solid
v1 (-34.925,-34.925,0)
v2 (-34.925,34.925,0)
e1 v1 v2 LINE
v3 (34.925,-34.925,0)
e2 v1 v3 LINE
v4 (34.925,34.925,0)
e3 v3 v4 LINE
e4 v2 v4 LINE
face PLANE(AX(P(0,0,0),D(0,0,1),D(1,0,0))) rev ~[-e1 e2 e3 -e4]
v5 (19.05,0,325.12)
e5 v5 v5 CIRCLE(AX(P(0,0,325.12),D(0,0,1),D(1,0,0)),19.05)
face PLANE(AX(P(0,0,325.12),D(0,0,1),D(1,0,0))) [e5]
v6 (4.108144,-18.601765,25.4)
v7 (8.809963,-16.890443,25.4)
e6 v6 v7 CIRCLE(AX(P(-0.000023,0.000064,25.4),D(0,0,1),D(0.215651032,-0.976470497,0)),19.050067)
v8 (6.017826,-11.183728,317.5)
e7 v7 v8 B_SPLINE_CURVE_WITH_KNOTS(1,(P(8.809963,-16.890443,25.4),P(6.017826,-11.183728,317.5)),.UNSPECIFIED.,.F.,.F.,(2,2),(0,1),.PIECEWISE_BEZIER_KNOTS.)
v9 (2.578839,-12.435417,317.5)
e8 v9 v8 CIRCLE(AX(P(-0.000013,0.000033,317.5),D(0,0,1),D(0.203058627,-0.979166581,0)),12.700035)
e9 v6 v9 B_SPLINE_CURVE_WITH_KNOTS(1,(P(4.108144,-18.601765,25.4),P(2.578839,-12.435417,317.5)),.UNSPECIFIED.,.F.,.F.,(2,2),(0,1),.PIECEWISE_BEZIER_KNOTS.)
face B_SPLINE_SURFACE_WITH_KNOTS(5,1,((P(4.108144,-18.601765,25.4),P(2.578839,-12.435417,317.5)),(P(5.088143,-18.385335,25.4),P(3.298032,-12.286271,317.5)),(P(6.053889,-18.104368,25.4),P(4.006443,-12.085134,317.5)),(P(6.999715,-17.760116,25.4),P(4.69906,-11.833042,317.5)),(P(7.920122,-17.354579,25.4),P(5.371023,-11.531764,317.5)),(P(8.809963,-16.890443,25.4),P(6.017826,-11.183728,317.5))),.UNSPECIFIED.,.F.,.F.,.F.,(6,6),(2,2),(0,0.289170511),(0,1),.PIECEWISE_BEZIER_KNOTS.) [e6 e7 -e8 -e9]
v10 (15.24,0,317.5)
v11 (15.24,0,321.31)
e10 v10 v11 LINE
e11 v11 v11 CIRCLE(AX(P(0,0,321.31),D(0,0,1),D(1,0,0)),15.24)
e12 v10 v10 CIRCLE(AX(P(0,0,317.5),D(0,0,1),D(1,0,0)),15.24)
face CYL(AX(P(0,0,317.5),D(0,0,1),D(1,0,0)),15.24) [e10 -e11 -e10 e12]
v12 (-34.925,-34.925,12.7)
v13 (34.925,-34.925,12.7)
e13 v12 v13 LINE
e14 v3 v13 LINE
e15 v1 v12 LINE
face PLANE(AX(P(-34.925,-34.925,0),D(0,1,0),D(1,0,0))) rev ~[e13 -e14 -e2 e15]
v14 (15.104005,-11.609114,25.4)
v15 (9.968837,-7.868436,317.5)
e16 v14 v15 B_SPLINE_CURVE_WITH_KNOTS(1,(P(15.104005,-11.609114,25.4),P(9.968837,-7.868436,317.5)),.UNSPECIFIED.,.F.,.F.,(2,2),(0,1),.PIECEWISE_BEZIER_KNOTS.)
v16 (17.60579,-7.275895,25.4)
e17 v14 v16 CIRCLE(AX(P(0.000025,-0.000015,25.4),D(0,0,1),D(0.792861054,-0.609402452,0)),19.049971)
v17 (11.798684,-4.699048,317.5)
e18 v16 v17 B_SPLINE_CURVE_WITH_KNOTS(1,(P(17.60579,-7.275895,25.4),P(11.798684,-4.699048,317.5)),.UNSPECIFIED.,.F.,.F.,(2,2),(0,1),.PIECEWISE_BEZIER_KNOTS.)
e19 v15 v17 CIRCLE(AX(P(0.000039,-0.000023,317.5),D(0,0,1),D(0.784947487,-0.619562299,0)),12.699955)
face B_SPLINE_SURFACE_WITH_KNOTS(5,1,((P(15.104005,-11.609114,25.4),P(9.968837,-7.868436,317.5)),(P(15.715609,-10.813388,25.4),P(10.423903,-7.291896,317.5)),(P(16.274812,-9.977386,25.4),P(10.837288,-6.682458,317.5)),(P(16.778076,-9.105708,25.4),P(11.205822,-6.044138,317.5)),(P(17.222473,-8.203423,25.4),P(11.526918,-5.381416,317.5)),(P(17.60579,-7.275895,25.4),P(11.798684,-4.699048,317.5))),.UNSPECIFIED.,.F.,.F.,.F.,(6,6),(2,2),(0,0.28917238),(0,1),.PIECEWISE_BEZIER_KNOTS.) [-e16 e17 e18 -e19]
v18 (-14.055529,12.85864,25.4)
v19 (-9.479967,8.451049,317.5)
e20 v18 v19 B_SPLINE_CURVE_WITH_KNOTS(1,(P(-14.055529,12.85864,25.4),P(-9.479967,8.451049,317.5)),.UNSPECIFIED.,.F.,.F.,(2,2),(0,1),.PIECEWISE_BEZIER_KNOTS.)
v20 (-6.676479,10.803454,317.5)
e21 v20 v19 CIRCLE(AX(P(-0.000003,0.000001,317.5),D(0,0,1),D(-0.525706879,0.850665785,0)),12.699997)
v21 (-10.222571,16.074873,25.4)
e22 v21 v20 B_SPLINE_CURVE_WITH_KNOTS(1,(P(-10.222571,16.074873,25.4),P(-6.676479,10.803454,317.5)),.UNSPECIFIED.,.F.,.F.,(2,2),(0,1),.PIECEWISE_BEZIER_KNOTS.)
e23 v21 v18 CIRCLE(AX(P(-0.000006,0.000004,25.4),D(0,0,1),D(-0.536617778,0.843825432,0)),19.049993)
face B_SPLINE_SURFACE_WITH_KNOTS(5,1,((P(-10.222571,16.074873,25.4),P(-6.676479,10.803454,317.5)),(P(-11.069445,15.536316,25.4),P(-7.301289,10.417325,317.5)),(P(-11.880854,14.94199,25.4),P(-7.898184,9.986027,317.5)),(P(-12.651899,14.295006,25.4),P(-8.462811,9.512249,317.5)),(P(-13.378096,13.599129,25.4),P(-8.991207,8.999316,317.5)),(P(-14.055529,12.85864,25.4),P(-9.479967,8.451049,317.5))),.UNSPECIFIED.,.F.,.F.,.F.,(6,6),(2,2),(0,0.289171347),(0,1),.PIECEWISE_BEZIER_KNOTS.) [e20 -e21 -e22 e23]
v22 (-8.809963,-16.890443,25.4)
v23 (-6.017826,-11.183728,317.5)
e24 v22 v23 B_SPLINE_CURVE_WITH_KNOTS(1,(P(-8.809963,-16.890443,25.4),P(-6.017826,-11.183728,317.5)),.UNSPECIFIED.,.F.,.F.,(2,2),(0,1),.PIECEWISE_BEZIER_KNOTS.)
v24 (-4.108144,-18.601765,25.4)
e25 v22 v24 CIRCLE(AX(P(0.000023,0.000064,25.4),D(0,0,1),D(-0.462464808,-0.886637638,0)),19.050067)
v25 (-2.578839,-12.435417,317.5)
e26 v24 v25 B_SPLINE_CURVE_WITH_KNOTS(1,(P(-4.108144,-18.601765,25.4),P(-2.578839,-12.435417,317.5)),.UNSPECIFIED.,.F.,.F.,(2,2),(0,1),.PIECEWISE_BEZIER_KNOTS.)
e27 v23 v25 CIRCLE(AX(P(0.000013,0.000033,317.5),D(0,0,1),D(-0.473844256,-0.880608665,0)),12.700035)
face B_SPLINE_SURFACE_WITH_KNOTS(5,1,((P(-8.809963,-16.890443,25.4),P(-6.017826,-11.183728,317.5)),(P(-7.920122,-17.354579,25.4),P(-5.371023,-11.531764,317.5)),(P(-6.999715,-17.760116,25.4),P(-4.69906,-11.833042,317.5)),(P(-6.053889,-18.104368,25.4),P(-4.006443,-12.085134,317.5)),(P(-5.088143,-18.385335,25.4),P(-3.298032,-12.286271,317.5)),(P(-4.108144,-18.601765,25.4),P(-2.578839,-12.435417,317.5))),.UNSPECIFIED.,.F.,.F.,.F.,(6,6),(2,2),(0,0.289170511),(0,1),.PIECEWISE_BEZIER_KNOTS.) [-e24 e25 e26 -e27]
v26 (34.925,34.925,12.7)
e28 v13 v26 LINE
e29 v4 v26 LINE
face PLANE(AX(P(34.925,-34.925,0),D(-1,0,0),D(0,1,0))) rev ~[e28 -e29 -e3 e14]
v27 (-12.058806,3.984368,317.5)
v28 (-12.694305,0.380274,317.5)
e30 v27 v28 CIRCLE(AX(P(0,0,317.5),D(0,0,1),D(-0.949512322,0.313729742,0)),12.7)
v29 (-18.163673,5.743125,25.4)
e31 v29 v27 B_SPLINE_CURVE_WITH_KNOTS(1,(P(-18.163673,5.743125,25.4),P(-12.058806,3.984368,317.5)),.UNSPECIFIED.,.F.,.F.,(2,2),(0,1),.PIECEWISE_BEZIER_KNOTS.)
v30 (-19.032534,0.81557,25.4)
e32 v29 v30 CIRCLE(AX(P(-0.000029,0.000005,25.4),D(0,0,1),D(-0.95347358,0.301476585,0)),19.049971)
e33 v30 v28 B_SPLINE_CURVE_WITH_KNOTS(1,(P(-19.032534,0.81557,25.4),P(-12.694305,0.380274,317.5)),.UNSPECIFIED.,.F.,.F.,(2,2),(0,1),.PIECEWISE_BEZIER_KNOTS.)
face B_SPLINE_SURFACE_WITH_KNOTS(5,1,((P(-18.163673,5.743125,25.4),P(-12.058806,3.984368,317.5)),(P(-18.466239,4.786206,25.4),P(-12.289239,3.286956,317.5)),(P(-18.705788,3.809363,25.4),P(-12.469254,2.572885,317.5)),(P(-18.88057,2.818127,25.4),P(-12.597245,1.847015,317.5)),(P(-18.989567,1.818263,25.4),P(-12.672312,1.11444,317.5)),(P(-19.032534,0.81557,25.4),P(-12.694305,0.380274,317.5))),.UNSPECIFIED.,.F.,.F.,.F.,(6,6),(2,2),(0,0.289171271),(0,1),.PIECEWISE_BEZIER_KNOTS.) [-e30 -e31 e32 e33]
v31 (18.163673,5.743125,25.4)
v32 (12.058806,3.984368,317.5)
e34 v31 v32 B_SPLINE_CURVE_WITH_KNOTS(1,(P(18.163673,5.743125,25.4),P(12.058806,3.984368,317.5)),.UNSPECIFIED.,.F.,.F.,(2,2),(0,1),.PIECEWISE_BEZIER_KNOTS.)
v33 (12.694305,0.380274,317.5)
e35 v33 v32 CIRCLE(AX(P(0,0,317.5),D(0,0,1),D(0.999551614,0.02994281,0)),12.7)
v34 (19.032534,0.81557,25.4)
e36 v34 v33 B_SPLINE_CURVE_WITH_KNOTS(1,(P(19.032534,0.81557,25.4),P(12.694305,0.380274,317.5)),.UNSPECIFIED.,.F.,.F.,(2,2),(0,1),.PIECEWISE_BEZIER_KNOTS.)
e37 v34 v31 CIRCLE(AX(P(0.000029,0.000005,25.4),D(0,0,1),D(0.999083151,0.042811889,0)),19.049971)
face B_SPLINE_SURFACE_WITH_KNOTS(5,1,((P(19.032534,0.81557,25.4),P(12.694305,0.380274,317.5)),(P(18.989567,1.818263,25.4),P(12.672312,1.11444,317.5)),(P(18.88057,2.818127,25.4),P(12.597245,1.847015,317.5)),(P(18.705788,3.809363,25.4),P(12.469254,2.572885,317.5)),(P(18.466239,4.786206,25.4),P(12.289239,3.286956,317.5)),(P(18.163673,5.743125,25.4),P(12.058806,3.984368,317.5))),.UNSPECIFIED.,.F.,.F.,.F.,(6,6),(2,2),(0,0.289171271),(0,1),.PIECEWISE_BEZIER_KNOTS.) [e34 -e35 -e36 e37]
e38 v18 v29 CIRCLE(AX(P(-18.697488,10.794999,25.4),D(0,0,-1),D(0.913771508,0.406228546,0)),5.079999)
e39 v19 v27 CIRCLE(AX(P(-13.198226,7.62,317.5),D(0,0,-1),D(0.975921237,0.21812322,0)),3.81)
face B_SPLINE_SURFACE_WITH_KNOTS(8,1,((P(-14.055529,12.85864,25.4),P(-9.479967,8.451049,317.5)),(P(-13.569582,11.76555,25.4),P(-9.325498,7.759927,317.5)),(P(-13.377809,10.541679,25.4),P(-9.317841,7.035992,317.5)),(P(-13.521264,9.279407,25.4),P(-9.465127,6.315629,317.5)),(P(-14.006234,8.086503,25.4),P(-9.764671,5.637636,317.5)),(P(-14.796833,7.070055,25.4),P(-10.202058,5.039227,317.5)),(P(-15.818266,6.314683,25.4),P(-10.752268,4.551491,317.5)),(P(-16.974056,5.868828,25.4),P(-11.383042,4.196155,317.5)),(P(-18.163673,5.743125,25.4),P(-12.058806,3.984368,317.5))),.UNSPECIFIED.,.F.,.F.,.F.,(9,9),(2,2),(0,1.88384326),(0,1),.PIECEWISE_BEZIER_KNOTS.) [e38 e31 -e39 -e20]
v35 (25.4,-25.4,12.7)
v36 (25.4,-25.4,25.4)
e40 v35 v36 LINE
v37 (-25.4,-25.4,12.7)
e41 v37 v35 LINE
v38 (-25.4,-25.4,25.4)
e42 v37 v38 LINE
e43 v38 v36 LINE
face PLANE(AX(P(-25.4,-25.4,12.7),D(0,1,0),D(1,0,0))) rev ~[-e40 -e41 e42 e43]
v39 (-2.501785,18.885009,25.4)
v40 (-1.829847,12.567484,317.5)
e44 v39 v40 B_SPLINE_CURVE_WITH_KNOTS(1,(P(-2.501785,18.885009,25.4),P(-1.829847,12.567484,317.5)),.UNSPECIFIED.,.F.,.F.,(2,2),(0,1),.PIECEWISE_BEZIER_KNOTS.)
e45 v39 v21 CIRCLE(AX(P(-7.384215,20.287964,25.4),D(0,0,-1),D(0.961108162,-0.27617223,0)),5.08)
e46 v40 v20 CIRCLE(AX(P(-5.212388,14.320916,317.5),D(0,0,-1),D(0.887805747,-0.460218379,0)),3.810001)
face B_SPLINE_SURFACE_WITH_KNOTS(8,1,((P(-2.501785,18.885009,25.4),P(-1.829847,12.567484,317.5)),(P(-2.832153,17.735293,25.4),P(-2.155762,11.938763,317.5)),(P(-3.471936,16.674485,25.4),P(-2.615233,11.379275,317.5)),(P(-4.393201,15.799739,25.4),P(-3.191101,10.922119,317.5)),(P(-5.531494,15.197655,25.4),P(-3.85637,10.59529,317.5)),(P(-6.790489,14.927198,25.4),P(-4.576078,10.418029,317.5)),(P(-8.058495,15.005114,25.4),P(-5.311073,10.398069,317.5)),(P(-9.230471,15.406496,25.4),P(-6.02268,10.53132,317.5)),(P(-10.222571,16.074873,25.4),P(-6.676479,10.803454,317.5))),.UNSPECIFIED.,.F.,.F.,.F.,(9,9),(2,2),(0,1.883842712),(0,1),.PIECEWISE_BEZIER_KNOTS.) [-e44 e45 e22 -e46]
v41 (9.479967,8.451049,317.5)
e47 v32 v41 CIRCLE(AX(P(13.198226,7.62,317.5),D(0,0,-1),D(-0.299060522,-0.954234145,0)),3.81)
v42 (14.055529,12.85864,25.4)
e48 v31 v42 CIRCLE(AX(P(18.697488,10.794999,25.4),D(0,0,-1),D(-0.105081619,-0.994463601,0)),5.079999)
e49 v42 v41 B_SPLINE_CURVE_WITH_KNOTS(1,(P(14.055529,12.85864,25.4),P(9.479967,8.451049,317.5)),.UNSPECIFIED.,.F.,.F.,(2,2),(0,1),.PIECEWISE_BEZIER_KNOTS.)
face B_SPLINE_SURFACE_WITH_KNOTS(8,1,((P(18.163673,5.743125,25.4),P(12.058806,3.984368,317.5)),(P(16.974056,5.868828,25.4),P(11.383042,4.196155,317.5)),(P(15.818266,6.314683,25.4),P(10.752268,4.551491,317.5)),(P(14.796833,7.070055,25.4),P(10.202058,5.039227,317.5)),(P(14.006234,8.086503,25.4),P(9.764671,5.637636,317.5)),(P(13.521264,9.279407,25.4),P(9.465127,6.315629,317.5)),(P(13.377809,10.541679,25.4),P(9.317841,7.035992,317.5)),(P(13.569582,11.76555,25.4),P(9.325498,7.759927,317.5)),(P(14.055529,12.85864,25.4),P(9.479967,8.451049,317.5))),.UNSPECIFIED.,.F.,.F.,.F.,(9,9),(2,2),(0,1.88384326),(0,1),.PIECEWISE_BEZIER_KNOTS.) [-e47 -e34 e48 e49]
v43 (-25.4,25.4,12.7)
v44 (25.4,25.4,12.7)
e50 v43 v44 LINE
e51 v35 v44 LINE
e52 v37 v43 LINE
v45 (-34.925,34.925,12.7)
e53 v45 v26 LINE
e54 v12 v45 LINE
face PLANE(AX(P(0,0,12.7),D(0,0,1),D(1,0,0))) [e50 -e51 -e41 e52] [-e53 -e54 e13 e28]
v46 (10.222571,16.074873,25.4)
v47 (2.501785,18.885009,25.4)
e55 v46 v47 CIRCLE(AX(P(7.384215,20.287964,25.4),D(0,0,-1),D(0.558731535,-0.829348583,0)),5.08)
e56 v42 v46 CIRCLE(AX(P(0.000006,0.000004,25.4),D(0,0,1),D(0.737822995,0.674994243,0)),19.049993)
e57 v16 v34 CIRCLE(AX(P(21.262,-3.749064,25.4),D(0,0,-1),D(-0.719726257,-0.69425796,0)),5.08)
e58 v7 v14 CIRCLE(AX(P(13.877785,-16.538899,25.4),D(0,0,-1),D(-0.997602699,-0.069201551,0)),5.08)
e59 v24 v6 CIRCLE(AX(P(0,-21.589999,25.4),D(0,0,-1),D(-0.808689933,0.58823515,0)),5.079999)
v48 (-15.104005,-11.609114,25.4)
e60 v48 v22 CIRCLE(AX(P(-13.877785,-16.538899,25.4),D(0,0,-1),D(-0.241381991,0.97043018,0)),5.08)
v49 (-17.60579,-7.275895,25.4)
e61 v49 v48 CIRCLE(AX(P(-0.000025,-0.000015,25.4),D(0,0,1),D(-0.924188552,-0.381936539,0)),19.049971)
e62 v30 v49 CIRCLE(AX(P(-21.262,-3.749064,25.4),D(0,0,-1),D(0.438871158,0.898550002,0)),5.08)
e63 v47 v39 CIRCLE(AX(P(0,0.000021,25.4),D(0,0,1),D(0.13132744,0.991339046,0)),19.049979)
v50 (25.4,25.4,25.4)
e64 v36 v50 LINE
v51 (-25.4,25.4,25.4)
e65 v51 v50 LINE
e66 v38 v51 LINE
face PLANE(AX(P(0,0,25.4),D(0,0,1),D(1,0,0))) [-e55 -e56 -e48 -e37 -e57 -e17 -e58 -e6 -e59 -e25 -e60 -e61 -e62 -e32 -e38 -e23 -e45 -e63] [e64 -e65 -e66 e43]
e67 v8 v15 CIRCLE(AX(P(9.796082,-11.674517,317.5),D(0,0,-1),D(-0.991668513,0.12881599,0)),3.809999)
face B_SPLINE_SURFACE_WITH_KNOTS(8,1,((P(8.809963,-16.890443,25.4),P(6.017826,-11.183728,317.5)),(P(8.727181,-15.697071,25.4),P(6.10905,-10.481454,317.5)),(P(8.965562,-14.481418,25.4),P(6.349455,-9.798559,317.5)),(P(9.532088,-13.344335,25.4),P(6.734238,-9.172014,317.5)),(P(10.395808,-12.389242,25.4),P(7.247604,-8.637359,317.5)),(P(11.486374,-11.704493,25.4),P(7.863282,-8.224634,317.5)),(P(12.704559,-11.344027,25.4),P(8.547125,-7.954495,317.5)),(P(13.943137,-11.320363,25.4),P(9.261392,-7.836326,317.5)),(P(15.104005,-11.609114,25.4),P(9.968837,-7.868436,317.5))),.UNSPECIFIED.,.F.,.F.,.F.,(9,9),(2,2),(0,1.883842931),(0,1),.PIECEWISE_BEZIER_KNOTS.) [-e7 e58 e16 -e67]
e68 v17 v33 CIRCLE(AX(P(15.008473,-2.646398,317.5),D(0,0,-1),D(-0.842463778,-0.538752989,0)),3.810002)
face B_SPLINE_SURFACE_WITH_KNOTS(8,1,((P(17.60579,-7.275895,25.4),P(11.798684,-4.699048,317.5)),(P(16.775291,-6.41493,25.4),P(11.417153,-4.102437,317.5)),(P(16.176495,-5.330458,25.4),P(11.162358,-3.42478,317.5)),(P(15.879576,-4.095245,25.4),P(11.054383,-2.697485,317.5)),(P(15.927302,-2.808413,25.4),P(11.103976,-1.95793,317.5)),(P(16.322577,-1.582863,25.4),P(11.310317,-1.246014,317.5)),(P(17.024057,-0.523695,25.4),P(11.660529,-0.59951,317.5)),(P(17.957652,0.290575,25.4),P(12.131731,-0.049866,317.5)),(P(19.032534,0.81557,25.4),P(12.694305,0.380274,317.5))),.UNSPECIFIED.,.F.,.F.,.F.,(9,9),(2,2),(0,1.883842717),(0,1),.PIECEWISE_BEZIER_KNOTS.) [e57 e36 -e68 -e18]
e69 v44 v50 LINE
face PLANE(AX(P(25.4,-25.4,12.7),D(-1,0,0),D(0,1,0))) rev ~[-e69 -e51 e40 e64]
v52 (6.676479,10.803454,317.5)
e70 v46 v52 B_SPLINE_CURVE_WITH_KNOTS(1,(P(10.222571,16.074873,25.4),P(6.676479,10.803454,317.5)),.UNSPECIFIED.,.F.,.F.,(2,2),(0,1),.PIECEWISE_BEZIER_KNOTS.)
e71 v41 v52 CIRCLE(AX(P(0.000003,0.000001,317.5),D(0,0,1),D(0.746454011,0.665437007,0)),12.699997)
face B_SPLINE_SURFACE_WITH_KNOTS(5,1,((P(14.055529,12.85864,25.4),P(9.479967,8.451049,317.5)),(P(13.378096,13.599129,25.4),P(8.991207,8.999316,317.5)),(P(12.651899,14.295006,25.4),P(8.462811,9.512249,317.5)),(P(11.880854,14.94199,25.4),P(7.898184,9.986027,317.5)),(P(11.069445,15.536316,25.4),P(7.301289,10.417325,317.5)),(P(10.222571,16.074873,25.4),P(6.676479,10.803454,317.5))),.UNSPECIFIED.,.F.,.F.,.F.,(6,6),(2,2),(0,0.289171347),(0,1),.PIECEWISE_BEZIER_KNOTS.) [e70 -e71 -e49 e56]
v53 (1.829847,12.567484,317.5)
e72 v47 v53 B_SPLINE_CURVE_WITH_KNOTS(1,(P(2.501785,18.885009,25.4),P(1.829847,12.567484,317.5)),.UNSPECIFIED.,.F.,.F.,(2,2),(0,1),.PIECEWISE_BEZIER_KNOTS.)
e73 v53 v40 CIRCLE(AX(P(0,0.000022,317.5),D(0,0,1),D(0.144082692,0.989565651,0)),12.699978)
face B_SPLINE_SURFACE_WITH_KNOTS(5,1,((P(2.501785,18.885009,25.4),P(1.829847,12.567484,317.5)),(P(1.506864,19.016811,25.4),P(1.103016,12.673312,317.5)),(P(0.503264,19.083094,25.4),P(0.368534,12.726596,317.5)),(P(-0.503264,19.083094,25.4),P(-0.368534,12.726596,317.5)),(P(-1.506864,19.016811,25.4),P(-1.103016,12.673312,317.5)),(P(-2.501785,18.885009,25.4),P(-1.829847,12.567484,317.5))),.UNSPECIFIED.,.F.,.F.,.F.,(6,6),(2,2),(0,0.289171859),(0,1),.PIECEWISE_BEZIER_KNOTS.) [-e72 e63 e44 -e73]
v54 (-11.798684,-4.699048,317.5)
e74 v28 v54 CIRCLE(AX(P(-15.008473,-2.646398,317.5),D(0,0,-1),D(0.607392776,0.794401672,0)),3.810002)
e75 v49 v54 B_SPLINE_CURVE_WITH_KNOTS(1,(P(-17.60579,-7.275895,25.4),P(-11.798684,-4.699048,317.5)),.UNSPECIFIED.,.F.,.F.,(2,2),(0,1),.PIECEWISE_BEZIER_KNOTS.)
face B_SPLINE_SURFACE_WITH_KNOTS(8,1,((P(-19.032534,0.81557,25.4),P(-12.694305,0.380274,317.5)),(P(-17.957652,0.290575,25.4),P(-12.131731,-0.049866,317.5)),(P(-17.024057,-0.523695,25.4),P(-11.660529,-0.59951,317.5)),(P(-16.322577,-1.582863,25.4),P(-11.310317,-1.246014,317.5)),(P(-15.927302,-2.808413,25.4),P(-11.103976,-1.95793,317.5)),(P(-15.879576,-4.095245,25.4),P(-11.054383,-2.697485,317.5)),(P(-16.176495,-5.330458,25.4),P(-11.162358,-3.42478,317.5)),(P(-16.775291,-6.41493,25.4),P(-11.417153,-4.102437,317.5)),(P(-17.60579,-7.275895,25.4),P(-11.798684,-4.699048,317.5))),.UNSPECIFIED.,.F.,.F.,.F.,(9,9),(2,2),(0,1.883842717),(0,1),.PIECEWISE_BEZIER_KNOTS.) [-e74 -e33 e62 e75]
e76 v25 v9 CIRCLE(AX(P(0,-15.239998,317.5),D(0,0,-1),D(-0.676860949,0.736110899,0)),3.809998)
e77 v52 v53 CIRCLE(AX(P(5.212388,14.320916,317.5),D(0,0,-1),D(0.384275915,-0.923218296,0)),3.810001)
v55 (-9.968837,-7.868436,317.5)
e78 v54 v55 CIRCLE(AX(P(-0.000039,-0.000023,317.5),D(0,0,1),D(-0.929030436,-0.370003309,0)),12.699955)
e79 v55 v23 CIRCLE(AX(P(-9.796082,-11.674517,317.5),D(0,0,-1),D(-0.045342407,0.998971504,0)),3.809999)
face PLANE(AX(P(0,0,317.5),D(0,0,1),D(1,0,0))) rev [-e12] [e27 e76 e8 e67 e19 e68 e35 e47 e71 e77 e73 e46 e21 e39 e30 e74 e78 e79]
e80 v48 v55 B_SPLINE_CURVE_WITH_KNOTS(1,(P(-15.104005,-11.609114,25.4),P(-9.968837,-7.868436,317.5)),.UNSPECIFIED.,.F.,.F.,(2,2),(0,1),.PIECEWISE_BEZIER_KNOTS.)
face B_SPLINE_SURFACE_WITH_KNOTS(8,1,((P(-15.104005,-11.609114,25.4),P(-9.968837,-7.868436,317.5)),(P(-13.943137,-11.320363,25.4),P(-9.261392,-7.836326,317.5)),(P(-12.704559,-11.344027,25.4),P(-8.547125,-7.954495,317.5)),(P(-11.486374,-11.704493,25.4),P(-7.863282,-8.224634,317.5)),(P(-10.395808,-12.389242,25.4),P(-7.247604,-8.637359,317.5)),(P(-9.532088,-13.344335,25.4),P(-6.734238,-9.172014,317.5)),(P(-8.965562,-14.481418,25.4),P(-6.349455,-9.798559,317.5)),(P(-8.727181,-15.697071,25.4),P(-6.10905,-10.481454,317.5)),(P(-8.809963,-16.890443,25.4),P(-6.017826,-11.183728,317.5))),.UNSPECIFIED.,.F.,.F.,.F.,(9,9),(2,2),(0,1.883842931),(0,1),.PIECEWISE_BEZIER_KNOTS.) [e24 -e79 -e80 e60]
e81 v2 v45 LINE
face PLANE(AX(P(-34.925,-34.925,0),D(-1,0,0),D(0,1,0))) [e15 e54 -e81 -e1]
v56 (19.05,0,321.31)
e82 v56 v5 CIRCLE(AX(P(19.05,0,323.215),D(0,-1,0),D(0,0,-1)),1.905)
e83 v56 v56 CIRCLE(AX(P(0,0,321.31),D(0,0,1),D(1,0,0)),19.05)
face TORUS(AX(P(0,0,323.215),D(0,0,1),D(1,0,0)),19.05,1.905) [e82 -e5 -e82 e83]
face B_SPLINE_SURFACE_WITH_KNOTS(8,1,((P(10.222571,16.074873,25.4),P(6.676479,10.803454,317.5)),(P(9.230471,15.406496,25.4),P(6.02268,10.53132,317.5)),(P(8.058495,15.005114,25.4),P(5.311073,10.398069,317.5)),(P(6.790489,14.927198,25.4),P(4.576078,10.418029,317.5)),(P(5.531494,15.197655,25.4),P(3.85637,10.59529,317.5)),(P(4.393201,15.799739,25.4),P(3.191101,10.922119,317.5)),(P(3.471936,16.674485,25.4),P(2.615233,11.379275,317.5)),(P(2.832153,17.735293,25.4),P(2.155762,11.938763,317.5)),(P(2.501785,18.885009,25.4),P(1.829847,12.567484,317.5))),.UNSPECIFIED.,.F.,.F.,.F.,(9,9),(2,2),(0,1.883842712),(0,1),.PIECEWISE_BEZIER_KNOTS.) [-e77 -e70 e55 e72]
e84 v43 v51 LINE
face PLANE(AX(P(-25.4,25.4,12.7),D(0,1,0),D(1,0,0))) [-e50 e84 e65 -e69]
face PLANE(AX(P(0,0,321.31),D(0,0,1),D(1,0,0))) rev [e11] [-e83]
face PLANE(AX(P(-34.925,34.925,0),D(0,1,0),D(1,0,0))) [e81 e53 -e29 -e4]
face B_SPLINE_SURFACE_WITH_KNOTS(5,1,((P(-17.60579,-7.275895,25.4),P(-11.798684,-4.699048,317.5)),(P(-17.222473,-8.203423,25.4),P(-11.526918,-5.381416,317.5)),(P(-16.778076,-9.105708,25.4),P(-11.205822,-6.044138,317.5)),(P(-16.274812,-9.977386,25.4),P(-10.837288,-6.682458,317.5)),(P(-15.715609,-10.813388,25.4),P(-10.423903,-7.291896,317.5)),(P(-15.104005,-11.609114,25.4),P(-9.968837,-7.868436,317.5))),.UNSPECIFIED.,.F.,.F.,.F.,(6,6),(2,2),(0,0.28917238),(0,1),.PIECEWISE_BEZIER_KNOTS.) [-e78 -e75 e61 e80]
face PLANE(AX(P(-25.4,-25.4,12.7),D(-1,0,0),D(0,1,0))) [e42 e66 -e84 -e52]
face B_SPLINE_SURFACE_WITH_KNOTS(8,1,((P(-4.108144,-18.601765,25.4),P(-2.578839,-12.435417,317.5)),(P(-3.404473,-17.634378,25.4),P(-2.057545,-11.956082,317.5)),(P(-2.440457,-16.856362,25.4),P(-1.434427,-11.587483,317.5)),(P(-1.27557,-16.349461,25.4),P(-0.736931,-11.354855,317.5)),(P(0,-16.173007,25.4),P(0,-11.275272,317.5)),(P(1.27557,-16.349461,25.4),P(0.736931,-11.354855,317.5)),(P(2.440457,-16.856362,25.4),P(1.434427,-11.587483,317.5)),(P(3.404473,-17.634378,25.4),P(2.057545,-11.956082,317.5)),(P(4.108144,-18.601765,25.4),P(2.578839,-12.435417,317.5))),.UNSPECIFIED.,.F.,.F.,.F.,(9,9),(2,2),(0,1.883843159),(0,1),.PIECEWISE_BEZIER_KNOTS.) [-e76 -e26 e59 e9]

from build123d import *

# Parameters (mm, degrees)
F0_W     = 69.85
F0_H     = 69.85
F1_DEPTH = 12.7
F2_W     = 50.8
F2_H     = 50.8
F3_DEPTH = 12.7


with BuildPart() as f1:
    # F0 (on Top) → F1 (new body)
    with BuildSketch(Plane.XY):
        Rectangle(F0_W, F0_H)
    extrude(amount=F1_DEPTH)

    # F2 (on face) → F3 (join)
    with BuildSketch(Plane.XY.offset(12.7)):
        Rectangle(F2_W, F2_H)
    extrude(amount=F3_DEPTH)

    # F4 (on face) → F7 section 0
    with BuildSketch(Plane.XY.offset(25.4)):
        with BuildLine():
            ThreePointArc((17.60579, -7.275895), (16.259176, -2.866931), (19.032534, 0.81557))
            ThreePointArc((19.032534, 0.81557), (18.760588, 3.307998), (18.163673, 5.743125))
            ThreePointArc((18.163673, 5.743125), (14.298079, 8.255), (14.055529, 12.85864))
            ThreePointArc((14.055529, 12.85864), (12.245104, 14.593147), (10.222571, 16.074873))
            ThreePointArc((10.222571, 16.074873), (5.646753, 15.514325), (2.501785, 18.885009))
            ThreePointArc((2.501785, 18.885009), (0, 19.05), (-2.501785, 18.885009))
            ThreePointArc((-2.501785, 18.885009), (-5.646753, 15.514325), (-10.222571, 16.074873))
            ThreePointArc((-10.222571, 16.074873), (-12.245104, 14.593147), (-14.055529, 12.85864))
            ThreePointArc((-14.055529, 12.85864), (-14.298079, 8.255), (-18.163673, 5.743125))
            ThreePointArc((-18.163673, 5.743125), (-18.760588, 3.307998), (-19.032534, 0.81557))
            ThreePointArc((-19.032534, 0.81557), (-16.259176, -2.866931), (-17.60579, -7.275895))
            ThreePointArc((-17.60579, -7.275895), (-16.497784, -9.525), (-15.104005, -11.609114))
            ThreePointArc((-15.104005, -11.609114), (-10.612423, -12.647394), (-8.809963, -16.890443))
            ThreePointArc((-8.809963, -16.890443), (-6.515484, -17.901144), (-4.108144, -18.601765))
            ThreePointArc((-4.108144, -18.601765), (0, -16.51), (4.108144, -18.601765))
            ThreePointArc((4.108144, -18.601765), (6.515484, -17.901144), (8.809963, -16.890443))
            ThreePointArc((8.809963, -16.890443), (10.612423, -12.647394), (15.104005, -11.609114))
            ThreePointArc((15.104005, -11.609114), (16.497784, -9.525), (17.60579, -7.275895))
        make_face()
    # F6 (on offset) → F7 section 1
    with BuildSketch(Plane.XY.offset(317.5)):
        with BuildLine():
            ThreePointArc((11.798684, -4.699048), (11.256353, -1.984799), (12.694305, 0.380274))
            ThreePointArc((12.694305, 0.380274), (12.507058, 2.205332), (12.058806, 3.984368))
            ThreePointArc((12.058806, 3.984368), (9.89867, 5.715), (9.479967, 8.451049))
            ThreePointArc((9.479967, 8.451049), (8.163403, 9.728764), (6.676479, 10.803454))
            ThreePointArc((6.676479, 10.803454), (3.90929, 10.740687), (1.829847, 12.567484))
            ThreePointArc((1.829847, 12.567484), (0, 12.7), (-1.829847, 12.567484))
            ThreePointArc((-1.829847, 12.567484), (-3.90929, 10.740687), (-6.676479, 10.803454))
            ThreePointArc((-6.676479, 10.803454), (-8.163403, 9.728764), (-9.479967, 8.451049))
            ThreePointArc((-9.479967, 8.451049), (-9.89867, 5.715), (-12.058806, 3.984368))
            ThreePointArc((-12.058806, 3.984368), (-12.507058, 2.205332), (-12.694305, 0.380274))
            ThreePointArc((-12.694305, 0.380274), (-11.256353, -1.984799), (-11.798684, -4.699048))
            ThreePointArc((-11.798684, -4.699048), (-10.998523, -6.35), (-9.968837, -7.868436))
            ThreePointArc((-9.968837, -7.868436), (-7.347062, -8.755888), (-6.017826, -11.183728))
            ThreePointArc((-6.017826, -11.183728), (-4.343656, -11.934096), (-2.578839, -12.435417))
            ThreePointArc((-2.578839, -12.435417), (0, -11.43), (2.578839, -12.435417))
            ThreePointArc((2.578839, -12.435417), (4.343656, -11.934096), (6.017826, -11.183728))
            ThreePointArc((6.017826, -11.183728), (7.347062, -8.755888), (9.968837, -7.868436))
            ThreePointArc((9.968837, -7.868436), (10.998523, -6.35), (11.798684, -4.699048))
        make_face()
    loft()

    # F8 (on Front) → F9 (revolve)
    with BuildSketch(Plane.XZ):
        Polygon((0, 325.12), (0, 317.5), (15.24, 317.5), (15.24, 321.31), (19.05, 321.31), (19.05, 325.12), align=None)
        with BuildLine():
            ThreePointArc((19.05, 321.31), (20.955, 323.215), (19.05, 325.12))
            Line((19.05, 325.12), (19.05, 321.31))
        make_face()
    revolve(axis=Axis((0, 0, 321.31), (0, 0, 1)))


solid = f1.part
